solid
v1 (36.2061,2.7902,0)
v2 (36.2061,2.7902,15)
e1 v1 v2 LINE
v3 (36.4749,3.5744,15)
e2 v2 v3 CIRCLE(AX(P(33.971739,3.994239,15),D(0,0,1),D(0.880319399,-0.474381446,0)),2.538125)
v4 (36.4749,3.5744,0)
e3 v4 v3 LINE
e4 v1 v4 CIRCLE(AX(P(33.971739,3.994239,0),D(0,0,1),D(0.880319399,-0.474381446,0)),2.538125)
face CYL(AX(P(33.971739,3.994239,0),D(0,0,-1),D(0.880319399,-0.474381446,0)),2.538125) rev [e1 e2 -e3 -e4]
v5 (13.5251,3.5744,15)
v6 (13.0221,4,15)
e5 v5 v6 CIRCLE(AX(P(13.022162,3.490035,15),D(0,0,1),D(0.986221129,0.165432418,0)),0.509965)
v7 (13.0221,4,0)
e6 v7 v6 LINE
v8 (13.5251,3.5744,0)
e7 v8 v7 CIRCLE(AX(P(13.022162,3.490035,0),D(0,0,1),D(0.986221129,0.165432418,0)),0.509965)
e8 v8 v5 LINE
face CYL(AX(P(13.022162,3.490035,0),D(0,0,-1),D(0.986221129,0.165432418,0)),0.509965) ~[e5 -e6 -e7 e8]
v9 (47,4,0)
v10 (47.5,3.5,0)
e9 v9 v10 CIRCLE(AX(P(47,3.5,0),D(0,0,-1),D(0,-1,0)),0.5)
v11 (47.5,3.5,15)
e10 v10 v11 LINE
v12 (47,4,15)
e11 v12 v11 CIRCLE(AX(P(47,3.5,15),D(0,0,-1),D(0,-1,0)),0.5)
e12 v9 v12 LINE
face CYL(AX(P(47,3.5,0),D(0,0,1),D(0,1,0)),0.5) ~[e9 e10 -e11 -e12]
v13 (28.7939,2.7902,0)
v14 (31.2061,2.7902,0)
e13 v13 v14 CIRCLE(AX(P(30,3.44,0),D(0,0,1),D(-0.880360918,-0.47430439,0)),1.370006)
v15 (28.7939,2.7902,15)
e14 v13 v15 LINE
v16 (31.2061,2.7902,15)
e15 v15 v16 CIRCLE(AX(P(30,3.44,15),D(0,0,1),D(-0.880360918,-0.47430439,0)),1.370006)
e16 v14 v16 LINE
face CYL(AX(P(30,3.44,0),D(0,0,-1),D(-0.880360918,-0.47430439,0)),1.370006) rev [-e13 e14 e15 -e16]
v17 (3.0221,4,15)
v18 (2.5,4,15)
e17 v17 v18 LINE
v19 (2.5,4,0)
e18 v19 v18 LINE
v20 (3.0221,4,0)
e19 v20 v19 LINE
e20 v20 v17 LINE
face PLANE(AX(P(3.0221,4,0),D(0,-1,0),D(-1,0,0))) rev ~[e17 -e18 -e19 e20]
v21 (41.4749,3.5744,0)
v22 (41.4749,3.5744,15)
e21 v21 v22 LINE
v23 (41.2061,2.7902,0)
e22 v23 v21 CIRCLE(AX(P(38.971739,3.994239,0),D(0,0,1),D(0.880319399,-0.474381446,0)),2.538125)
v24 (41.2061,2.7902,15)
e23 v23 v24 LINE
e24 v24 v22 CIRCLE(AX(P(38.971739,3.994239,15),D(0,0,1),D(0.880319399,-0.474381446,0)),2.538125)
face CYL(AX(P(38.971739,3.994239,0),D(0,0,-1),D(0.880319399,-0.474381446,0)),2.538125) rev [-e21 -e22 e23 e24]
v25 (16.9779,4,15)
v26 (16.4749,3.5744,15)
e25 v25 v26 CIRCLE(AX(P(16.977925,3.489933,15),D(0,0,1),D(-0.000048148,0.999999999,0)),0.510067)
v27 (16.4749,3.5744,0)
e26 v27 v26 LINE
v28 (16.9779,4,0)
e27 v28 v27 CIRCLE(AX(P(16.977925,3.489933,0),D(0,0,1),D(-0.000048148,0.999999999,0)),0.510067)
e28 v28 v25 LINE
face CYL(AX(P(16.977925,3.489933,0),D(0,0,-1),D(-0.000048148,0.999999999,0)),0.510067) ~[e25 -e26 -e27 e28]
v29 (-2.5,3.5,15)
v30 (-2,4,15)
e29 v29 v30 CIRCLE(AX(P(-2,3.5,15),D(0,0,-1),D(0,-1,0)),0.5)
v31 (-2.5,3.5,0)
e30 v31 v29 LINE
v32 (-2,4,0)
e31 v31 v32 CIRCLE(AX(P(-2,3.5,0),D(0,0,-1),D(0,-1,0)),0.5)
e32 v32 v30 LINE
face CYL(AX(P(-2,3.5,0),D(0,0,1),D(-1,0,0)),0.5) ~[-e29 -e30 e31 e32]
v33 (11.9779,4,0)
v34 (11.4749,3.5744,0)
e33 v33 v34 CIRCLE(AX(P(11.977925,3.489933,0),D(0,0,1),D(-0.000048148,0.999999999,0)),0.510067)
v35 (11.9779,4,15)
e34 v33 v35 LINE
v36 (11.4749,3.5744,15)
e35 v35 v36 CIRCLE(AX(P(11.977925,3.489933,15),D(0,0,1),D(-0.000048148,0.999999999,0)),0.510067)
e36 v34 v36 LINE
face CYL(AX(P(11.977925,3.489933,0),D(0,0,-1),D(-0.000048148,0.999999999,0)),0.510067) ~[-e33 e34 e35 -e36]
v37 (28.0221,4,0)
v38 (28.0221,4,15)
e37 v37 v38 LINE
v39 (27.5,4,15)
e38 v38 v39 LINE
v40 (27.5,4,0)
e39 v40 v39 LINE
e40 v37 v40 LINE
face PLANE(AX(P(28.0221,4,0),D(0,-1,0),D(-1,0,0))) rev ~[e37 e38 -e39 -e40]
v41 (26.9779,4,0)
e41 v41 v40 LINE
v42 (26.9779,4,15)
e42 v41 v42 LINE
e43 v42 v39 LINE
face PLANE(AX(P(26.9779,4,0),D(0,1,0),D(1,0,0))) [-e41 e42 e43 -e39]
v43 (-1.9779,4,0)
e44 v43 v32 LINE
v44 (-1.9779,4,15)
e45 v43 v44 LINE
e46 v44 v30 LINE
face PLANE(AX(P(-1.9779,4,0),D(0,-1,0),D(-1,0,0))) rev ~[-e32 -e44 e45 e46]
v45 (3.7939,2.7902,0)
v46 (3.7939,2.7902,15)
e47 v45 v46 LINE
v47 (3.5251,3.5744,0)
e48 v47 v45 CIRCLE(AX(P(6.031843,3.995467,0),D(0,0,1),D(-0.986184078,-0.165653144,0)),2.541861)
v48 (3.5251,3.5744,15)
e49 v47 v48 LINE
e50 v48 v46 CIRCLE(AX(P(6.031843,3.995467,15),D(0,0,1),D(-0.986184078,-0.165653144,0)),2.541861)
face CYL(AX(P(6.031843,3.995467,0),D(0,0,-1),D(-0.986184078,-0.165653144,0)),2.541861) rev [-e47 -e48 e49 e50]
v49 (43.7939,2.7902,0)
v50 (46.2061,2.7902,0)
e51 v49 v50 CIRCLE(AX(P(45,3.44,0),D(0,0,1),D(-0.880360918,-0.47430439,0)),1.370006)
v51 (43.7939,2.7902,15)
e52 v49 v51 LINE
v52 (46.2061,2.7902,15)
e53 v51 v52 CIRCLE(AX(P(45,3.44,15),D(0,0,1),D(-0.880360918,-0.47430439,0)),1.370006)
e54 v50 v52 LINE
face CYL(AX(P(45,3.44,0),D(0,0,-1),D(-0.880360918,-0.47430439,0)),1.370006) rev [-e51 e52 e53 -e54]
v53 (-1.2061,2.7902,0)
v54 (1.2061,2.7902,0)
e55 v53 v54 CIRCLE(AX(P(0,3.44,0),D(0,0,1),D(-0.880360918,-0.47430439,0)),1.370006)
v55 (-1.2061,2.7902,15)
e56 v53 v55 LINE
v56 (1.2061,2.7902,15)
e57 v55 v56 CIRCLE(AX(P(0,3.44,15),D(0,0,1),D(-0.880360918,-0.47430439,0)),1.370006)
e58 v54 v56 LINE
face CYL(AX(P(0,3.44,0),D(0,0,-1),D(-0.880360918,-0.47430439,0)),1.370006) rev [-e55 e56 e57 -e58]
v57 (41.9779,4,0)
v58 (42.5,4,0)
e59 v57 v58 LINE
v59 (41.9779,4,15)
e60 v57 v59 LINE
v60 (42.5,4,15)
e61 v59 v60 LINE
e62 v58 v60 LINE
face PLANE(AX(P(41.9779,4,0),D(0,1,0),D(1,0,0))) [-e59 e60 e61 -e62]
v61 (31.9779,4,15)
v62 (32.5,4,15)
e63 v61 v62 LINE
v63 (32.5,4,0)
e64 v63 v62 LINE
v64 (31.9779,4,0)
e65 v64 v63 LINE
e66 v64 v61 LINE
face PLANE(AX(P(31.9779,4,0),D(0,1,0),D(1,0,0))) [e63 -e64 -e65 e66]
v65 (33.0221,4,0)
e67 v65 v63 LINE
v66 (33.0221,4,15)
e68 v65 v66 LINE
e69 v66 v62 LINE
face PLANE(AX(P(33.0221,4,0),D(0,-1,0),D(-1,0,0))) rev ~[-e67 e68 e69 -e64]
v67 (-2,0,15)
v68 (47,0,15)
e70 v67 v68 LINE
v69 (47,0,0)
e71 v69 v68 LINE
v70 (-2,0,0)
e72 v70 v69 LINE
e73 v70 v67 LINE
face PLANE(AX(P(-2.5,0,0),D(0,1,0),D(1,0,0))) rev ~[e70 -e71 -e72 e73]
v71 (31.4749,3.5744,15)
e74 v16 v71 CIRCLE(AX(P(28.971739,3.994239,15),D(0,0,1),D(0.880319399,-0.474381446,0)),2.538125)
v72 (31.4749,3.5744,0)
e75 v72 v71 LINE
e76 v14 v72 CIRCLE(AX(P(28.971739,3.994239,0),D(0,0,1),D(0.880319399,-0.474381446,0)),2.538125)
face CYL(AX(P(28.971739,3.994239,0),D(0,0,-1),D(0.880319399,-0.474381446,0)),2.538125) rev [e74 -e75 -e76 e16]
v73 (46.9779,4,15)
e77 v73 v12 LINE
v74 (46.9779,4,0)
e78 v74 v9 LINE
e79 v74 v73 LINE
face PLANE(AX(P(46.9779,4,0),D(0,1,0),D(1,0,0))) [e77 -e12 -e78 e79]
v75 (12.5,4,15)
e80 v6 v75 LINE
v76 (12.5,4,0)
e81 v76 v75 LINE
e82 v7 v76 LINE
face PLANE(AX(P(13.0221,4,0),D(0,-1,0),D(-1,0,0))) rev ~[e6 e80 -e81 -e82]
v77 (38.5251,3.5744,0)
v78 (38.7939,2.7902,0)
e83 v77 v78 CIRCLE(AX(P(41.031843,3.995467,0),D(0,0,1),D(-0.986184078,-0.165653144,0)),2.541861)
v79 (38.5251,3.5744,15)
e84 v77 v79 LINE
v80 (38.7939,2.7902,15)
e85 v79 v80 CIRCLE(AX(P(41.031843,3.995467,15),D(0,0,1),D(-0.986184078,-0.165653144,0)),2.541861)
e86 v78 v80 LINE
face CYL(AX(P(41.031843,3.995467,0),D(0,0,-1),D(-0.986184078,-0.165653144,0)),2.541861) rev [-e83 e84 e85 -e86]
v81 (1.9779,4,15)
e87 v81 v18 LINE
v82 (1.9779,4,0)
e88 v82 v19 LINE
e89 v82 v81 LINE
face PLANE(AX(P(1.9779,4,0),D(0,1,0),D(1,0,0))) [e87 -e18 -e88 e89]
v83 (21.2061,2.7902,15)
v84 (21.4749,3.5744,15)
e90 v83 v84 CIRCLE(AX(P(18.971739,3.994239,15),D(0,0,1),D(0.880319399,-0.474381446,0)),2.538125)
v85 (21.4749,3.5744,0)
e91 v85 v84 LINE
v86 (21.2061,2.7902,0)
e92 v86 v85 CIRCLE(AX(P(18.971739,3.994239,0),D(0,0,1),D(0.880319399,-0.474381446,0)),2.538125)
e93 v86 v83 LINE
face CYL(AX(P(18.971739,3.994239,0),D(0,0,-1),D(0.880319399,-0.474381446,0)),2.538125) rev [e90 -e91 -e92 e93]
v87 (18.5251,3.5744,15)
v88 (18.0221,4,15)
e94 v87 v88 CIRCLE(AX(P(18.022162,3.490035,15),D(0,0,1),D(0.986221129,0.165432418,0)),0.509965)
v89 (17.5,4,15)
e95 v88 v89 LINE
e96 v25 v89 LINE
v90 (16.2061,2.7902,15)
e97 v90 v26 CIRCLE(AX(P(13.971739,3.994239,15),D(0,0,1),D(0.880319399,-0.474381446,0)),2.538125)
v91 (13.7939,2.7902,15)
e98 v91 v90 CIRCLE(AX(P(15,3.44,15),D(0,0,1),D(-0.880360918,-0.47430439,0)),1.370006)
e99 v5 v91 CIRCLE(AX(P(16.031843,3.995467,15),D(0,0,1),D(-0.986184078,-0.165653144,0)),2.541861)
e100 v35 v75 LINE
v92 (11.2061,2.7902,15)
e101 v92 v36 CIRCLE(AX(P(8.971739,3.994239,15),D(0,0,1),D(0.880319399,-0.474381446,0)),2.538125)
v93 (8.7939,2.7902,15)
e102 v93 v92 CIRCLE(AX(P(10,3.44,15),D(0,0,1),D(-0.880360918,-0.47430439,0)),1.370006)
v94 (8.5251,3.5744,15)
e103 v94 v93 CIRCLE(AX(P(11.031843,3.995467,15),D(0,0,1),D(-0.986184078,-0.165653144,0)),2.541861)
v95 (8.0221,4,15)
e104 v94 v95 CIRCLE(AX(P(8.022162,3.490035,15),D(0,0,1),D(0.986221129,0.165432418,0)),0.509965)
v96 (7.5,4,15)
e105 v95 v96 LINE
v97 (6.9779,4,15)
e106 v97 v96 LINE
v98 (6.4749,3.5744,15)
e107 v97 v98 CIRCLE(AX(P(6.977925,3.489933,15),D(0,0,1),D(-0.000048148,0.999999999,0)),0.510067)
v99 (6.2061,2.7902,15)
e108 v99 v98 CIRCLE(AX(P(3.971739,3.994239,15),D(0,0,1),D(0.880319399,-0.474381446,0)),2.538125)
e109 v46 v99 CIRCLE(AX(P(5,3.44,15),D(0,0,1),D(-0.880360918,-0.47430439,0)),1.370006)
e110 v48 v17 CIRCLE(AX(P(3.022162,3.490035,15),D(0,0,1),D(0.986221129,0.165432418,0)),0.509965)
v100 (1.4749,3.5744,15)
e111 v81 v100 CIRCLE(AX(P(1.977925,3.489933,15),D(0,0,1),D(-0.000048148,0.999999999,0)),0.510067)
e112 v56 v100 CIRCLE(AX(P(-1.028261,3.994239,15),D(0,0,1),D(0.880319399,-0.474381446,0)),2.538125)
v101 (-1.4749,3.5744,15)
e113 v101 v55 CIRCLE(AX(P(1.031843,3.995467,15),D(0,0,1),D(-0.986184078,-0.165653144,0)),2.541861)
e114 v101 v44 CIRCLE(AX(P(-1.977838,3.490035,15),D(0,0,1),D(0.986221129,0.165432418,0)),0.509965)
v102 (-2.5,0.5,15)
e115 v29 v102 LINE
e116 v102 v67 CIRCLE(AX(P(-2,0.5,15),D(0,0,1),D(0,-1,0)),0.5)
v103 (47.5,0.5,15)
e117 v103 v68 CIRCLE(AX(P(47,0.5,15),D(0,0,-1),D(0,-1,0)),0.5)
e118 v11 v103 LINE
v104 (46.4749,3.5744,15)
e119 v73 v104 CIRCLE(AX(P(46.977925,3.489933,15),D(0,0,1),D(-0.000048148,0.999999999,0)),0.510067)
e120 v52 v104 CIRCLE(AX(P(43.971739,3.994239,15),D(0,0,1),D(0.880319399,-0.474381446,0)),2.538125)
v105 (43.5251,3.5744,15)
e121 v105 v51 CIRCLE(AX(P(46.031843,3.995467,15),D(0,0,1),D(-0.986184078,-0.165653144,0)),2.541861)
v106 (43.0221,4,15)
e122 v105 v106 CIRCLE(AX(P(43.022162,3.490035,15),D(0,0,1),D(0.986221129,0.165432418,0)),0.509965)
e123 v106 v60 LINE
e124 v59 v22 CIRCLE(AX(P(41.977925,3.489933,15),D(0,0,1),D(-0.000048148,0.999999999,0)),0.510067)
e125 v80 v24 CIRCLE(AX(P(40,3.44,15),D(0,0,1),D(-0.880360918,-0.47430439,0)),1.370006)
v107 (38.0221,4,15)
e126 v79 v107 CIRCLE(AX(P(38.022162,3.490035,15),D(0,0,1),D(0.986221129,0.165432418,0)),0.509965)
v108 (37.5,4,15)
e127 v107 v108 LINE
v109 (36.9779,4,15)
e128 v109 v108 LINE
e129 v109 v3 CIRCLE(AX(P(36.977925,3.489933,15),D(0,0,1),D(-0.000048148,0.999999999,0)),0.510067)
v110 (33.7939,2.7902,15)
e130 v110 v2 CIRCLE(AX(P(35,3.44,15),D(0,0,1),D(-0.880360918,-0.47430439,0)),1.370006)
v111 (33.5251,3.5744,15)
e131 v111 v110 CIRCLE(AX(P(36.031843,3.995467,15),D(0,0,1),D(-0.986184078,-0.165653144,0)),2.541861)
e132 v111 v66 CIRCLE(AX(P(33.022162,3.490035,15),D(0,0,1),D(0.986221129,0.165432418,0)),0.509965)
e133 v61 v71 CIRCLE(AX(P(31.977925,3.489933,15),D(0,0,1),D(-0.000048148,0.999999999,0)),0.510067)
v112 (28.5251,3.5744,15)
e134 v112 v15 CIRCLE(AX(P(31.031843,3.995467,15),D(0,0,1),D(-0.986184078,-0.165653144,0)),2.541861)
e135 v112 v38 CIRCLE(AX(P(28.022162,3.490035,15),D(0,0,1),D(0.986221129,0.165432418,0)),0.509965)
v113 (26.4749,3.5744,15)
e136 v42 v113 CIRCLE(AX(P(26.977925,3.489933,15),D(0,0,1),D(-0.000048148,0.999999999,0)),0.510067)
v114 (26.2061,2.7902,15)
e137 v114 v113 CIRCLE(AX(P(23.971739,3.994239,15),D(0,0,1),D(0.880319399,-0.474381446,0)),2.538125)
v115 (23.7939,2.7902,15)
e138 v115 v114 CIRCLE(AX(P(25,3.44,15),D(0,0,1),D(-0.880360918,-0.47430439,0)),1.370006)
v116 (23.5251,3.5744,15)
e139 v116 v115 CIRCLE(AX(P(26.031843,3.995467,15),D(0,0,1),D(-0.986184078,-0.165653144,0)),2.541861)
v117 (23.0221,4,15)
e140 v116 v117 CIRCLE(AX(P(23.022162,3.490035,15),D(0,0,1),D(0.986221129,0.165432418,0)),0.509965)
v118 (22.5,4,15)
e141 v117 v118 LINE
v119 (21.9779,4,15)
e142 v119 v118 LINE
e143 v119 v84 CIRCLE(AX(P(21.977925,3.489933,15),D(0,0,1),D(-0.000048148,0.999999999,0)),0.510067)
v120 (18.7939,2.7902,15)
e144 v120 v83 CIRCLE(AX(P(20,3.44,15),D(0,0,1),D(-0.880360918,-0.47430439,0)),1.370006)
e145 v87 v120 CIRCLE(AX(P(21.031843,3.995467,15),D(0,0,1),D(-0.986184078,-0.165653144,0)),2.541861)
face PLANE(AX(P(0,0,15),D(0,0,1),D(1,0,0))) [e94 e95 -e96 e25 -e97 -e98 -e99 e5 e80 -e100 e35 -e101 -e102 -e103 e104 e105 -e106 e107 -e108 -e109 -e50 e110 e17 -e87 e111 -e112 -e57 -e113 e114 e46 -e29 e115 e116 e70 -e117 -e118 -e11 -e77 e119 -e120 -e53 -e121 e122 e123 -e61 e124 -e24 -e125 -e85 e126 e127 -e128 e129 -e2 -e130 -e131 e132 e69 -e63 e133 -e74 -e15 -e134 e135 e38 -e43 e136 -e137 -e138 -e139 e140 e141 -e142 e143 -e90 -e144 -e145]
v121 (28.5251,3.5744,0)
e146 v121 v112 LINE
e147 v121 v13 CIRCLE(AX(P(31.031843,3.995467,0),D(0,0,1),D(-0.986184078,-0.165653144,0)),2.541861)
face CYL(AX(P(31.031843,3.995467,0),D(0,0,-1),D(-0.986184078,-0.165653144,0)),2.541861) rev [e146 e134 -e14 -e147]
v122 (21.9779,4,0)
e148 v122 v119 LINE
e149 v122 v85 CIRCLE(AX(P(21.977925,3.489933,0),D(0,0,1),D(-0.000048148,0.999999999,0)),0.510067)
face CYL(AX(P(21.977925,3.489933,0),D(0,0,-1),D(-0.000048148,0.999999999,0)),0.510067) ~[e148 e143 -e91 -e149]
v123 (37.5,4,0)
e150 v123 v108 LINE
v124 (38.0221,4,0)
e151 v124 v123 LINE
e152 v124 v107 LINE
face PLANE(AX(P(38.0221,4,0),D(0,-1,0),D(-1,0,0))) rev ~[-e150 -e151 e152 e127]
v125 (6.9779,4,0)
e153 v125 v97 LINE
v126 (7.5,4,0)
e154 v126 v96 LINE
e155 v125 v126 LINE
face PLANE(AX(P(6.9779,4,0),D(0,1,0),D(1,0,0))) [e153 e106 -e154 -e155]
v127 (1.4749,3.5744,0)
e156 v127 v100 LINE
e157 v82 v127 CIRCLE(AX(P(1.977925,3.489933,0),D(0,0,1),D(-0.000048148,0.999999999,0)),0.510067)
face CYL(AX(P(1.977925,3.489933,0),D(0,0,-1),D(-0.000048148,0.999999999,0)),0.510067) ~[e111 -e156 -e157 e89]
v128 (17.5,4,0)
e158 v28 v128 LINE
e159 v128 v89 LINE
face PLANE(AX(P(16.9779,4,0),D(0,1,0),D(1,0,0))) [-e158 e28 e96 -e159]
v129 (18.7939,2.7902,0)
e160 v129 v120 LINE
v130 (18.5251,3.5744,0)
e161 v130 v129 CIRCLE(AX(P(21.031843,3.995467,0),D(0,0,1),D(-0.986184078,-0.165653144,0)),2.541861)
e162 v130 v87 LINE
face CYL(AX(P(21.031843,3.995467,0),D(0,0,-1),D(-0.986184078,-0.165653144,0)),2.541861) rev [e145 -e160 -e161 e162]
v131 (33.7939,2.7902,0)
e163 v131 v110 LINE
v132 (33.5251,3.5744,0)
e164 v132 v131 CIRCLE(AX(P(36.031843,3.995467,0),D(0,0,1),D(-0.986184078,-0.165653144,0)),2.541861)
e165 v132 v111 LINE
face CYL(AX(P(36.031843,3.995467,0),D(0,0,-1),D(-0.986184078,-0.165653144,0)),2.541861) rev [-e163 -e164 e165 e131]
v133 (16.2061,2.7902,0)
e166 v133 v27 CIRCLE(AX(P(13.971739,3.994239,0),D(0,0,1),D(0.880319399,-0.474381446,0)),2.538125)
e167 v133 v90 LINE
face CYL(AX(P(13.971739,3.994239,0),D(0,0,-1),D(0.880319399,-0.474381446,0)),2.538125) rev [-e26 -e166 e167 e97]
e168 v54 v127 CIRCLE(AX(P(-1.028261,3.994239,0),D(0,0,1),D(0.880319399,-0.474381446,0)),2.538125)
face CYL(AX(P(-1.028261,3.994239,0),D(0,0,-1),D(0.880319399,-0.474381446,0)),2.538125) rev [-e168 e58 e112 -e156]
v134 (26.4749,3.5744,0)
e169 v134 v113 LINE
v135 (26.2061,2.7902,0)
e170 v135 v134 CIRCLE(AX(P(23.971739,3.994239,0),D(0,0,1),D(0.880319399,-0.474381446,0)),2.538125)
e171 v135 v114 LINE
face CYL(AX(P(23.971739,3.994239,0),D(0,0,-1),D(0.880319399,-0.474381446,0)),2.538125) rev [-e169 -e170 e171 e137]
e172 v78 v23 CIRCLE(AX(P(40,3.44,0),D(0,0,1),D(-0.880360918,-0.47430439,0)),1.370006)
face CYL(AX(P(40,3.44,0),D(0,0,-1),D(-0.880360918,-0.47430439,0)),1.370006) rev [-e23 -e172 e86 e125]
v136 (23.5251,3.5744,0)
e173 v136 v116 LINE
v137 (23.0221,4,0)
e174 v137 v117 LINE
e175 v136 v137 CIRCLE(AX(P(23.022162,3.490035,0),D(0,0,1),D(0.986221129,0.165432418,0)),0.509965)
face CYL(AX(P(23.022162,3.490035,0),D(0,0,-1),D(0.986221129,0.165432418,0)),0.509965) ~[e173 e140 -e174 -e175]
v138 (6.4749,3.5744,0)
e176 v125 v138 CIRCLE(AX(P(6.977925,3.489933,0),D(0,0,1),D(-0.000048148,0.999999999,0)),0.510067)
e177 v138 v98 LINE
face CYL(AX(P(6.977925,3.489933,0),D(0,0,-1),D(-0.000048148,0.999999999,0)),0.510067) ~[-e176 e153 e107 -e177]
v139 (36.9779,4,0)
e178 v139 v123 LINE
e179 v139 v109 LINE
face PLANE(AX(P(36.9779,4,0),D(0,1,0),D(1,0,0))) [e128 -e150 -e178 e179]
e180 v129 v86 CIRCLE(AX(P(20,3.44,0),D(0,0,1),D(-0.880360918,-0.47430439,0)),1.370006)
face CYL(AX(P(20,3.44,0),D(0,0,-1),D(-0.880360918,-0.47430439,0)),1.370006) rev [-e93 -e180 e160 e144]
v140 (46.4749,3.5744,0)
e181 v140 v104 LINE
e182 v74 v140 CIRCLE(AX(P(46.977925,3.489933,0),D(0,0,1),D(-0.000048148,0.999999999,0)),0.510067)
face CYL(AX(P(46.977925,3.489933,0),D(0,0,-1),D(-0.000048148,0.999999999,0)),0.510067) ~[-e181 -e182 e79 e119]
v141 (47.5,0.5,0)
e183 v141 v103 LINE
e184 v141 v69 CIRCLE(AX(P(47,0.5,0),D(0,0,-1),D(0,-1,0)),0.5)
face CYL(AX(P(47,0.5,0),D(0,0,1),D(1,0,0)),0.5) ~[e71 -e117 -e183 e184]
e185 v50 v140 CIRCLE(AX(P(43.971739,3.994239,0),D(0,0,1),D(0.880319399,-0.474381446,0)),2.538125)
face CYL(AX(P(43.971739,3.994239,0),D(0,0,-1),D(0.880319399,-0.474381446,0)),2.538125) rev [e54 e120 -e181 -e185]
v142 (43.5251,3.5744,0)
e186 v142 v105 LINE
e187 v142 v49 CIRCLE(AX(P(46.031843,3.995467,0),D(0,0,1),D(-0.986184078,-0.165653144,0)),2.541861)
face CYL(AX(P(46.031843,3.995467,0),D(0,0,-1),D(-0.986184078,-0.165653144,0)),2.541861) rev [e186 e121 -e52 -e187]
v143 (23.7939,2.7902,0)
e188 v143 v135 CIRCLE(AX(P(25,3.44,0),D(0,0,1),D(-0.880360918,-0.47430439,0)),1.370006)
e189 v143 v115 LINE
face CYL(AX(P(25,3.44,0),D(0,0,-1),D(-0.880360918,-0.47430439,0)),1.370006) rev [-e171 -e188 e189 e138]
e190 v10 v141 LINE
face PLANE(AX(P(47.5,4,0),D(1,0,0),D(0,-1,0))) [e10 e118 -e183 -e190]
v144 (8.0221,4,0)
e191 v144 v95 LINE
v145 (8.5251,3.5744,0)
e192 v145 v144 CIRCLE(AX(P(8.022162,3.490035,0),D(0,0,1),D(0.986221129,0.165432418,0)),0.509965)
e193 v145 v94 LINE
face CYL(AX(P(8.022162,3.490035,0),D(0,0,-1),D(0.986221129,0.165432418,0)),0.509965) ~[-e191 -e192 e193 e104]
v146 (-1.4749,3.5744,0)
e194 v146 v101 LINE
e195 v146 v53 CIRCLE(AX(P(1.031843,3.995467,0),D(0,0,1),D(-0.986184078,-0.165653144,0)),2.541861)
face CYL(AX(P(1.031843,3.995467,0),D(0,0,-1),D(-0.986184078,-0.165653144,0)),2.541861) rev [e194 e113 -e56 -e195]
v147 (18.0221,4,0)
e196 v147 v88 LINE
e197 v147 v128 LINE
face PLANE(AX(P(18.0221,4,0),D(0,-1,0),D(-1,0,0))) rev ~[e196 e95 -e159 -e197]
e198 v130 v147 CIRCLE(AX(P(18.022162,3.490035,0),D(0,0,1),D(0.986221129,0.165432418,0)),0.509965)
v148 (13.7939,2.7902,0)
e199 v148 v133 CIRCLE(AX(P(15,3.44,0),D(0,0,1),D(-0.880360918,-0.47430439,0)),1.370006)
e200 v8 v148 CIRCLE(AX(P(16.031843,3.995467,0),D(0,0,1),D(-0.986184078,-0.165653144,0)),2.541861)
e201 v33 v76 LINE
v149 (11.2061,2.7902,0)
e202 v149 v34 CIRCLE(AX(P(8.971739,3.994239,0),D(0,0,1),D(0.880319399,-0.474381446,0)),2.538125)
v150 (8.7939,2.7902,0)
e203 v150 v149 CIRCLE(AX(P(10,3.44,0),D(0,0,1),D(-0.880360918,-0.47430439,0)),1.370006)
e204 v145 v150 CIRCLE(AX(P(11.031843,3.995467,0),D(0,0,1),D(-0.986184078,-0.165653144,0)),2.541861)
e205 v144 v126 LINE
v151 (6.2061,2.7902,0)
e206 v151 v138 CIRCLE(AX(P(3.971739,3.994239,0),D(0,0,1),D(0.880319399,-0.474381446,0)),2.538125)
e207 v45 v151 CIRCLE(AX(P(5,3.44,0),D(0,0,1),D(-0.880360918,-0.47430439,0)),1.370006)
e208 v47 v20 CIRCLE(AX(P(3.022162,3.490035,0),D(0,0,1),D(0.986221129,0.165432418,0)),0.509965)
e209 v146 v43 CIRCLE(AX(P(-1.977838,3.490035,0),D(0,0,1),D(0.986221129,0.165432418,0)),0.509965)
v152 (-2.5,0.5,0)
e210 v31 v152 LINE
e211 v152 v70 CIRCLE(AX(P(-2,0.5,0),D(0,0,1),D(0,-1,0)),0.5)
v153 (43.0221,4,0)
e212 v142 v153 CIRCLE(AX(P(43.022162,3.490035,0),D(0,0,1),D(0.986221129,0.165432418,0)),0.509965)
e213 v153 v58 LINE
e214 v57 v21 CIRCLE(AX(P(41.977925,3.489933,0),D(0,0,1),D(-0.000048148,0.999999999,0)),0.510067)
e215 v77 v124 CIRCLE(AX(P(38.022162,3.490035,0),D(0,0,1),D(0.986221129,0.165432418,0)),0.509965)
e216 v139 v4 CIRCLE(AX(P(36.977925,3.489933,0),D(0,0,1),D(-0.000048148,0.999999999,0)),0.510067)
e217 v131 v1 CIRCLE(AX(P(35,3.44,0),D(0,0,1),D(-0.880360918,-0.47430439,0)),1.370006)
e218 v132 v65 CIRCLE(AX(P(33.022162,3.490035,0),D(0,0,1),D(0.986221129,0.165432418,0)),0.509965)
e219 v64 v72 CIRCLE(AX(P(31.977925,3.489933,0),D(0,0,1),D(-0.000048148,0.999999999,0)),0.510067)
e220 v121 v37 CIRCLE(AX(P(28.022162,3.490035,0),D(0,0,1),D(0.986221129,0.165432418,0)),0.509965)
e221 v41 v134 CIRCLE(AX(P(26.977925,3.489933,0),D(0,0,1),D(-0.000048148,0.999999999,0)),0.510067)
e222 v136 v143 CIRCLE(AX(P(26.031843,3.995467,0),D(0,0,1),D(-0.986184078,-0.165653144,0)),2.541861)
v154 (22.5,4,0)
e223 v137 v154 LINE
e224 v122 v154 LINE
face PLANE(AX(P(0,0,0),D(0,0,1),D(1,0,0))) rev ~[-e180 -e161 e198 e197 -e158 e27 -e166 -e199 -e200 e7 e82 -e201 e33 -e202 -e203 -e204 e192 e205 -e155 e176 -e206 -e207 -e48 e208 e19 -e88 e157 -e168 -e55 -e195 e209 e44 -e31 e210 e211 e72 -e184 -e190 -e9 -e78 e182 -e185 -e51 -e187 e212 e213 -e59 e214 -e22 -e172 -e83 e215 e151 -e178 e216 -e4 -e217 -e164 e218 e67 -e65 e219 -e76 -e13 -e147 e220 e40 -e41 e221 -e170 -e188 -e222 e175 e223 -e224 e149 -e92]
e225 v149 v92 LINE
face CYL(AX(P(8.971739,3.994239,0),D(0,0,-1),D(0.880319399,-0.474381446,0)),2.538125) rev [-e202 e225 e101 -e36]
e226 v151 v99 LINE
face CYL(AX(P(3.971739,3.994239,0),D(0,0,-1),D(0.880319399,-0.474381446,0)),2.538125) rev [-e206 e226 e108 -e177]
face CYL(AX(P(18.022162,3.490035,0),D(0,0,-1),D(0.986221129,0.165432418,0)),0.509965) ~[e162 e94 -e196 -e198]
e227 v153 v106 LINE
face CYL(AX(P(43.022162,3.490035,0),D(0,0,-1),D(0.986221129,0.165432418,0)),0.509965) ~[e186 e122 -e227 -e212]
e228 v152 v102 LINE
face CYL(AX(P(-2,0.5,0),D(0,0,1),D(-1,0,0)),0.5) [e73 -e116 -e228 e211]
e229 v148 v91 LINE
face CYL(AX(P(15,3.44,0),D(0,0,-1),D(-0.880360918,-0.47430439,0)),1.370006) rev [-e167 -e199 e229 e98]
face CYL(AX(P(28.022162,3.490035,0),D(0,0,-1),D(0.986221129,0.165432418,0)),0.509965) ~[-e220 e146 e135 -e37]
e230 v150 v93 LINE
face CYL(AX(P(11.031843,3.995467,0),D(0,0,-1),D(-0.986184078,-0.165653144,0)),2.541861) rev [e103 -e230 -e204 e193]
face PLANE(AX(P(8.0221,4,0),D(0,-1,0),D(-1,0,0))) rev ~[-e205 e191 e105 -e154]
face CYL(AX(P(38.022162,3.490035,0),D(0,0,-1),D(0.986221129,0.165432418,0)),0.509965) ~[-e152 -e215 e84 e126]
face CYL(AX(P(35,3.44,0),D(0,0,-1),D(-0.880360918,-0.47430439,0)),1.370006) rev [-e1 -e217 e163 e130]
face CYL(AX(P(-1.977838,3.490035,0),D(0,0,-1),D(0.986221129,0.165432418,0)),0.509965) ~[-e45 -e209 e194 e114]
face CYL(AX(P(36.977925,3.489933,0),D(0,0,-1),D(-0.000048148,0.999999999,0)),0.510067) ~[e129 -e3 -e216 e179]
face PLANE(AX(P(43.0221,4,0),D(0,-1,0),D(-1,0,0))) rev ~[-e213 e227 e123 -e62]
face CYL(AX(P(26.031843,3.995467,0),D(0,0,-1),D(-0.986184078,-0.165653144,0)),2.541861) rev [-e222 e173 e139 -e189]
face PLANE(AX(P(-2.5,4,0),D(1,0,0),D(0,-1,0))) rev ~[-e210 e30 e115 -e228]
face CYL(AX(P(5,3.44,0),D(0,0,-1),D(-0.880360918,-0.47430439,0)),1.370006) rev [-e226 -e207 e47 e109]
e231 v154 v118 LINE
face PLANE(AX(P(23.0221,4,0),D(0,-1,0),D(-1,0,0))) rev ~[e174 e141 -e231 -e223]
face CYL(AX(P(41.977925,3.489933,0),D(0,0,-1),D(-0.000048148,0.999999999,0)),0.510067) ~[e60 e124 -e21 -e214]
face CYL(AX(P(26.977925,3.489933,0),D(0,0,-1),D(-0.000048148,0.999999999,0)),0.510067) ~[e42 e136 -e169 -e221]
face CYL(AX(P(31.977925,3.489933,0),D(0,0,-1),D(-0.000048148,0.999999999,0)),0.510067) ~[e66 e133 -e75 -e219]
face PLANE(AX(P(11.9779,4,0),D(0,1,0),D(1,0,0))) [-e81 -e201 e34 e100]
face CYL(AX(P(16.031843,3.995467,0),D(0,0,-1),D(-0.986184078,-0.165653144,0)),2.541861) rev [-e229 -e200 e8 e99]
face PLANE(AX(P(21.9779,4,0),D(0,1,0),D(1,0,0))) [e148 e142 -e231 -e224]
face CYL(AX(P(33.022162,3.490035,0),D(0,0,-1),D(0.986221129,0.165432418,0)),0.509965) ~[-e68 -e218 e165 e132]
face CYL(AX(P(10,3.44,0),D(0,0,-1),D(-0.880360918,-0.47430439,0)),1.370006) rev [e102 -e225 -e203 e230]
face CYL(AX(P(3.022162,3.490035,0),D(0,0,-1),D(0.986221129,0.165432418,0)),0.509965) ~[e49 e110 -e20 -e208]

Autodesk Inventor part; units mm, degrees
ref_plane "YZ Plane" through (0, 0, 0) normal (1, 0, 0) x (0, 1, 0)
ref_plane "XZ Plane" through (0, 0, 0) normal (0, 1, 0) x (-1, 0, 0)
ref_plane "XY Plane" through (0, 0, 0) normal (0, 0, 1) x (1, 0, 0)
sketch "スケッチ1" plane through (0, 0, 0) normal (0, 0, 1) x (1, 0, 0)
  line L0 (-2.5, 0) -> (47.5, 0)
  arc A0 (-1.2061, 2.7902) -> (1.2061, 2.7902) centre (0, 3.44) ccw
  arc A1 (-1.4749, 3.5744) -> (-1.2061, 2.7902) centre (1.03, 3.995) ccw
  arc A2 (1.2061, 2.7902) -> (1.4749, 3.5744) centre (-1.03, 3.995) ccw
  arc A3 (-1.4749, 3.5744) -> (-1.9779, 4) centre (-1.9779, 3.49) ccw
  arc A4 (1.9779, 4) -> (1.4749, 3.5744) centre (1.9779, 3.49) ccw
  line L1 (1.9779, 4) -> (2.5, 4)
  line L2 (-1.9779, 4) -> (-2.5, 4)
  line L3 (6.9779, 4) -> (7.5, 4)
  arc A5 (6.9779, 4) -> (6.4749, 3.5744) centre (6.9779, 3.49) ccw
  arc A6 (6.2061, 2.7902) -> (6.4749, 3.5744) centre (3.97, 3.995) ccw
  arc A7 (3.7939, 2.7902) -> (6.2061, 2.7902) centre (5, 3.44) ccw
  arc A8 (3.5251, 3.5744) -> (3.7939, 2.7902) centre (6.03, 3.995) ccw
  arc A9 (3.5251, 3.5744) -> (3.0221, 4) centre (3.0221, 3.49) ccw
  line L4 (3.0221, 4) -> (2.5, 4)
  line L5 (11.9779, 4) -> (12.5, 4)
  arc A10 (11.9779, 4) -> (11.4749, 3.5744) centre (11.9779, 3.49) ccw
  arc A11 (11.2061, 2.7902) -> (11.4749, 3.5744) centre (8.97, 3.995) ccw
  arc A12 (8.7939, 2.7902) -> (11.2061, 2.7902) centre (10, 3.44) ccw
  arc A13 (8.5251, 3.5744) -> (8.7939, 2.7902) centre (11.03, 3.995) ccw
  arc A14 (8.5251, 3.5744) -> (8.0221, 4) centre (8.0221, 3.49) ccw
  line L6 (8.0221, 4) -> (7.5, 4)
  line L7 (16.9779, 4) -> (17.5, 4)
  arc A15 (16.9779, 4) -> (16.4749, 3.5744) centre (16.9779, 3.49) ccw
  arc A16 (16.2061, 2.7902) -> (16.4749, 3.5744) centre (13.97, 3.995) ccw
  arc A17 (13.7939, 2.7902) -> (16.2061, 2.7902) centre (15, 3.44) ccw
  arc A18 (13.5251, 3.5744) -> (13.7939, 2.7902) centre (16.03, 3.995) ccw
  arc A19 (13.5251, 3.5744) -> (13.0221, 4) centre (13.0221, 3.49) ccw
  line L8 (13.0221, 4) -> (12.5, 4)
  line L9 (21.9779, 4) -> (22.5, 4)
  arc A20 (21.9779, 4) -> (21.4749, 3.5744) centre (21.9779, 3.49) ccw
  arc A21 (21.2061, 2.7902) -> (21.4749, 3.5744) centre (18.97, 3.995) ccw
  arc A22 (18.7939, 2.7902) -> (21.2061, 2.7902) centre (20, 3.44) ccw
  arc A23 (18.5251, 3.5744) -> (18.7939, 2.7902) centre (21.03, 3.995) ccw
  arc A24 (18.5251, 3.5744) -> (18.0221, 4) centre (18.0221, 3.49) ccw
  line L10 (18.0221, 4) -> (17.5, 4)
  line L11 (26.9779, 4) -> (27.5, 4)
  arc A25 (26.9779, 4) -> (26.4749, 3.5744) centre (26.9779, 3.49) ccw
  arc A26 (26.2061, 2.7902) -> (26.4749, 3.5744) centre (23.97, 3.995) ccw
  arc A27 (23.7939, 2.7902) -> (26.2061, 2.7902) centre (25, 3.44) ccw
  arc A28 (23.5251, 3.5744) -> (23.7939, 2.7902) centre (26.03, 3.995) ccw
  arc A29 (23.5251, 3.5744) -> (23.0221, 4) centre (23.0221, 3.49) ccw
  line L12 (23.0221, 4) -> (22.5, 4)
  line L13 (31.9779, 4) -> (32.5, 4)
  arc A30 (31.9779, 4) -> (31.4749, 3.5744) centre (31.9779, 3.49) ccw
  arc A31 (31.2061, 2.7902) -> (31.4749, 3.5744) centre (28.97, 3.995) ccw
  arc A32 (28.7939, 2.7902) -> (31.2061, 2.7902) centre (30, 3.44) ccw
  arc A33 (28.5251, 3.5744) -> (28.7939, 2.7902) centre (31.03, 3.995) ccw
  arc A34 (28.5251, 3.5744) -> (28.0221, 4) centre (28.0221, 3.49) ccw
  line L14 (28.0221, 4) -> (27.5, 4)
  line L15 (36.9779, 4) -> (37.5, 4)
  arc A35 (36.9779, 4) -> (36.4749, 3.5744) centre (36.9779, 3.49) ccw
  arc A36 (36.2061, 2.7902) -> (36.4749, 3.5744) centre (33.97, 3.995) ccw
  arc A37 (33.7939, 2.7902) -> (36.2061, 2.7902) centre (35, 3.44) ccw
  arc A38 (33.5251, 3.5744) -> (33.7939, 2.7902) centre (36.03, 3.995) ccw
  arc A39 (33.5251, 3.5744) -> (33.0221, 4) centre (33.0221, 3.49) ccw
  line L16 (33.0221, 4) -> (32.5, 4)
  line L17 (41.9779, 4) -> (42.5, 4)
  arc A40 (41.9779, 4) -> (41.4749, 3.5744) centre (41.9779, 3.49) ccw
  arc A41 (41.2061, 2.7902) -> (41.4749, 3.5744) centre (38.97, 3.995) ccw
  arc A42 (38.7939, 2.7902) -> (41.2061, 2.7902) centre (40, 3.44) ccw
  arc A43 (38.5251, 3.5744) -> (38.7939, 2.7902) centre (41.03, 3.995) ccw
  arc A44 (38.5251, 3.5744) -> (38.0221, 4) centre (38.0221, 3.49) ccw
  line L18 (38.0221, 4) -> (37.5, 4)
  line L19 (46.9779, 4) -> (47.5, 4)
  arc A45 (46.9779, 4) -> (46.4749, 3.5744) centre (46.9779, 3.49) ccw
  arc A46 (46.2061, 2.7902) -> (46.4749, 3.5744) centre (43.97, 3.995) ccw
  arc A47 (43.7939, 2.7902) -> (46.2061, 2.7902) centre (45, 3.44) ccw
  arc A48 (43.5251, 3.5744) -> (43.7939, 2.7902) centre (46.03, 3.995) ccw
  arc A49 (43.5251, 3.5744) -> (43.0221, 4) centre (43.0221, 3.49) ccw
  line L20 (43.0221, 4) -> (42.5, 4)
  line L21 (-2.5, 4) -> (-2.5, 0)
  line L22 (47.5, 4) -> (47.5, 0)
  point P0 (0, 0)
  point P1 (0, 2.07)
  point P2 (5, 2.07)
  point P3 (10, 2.07)
  point P4 (15, 2.07)
  point P5 (20, 2.07)
  point P6 (25, 2.07)
  point P7 (30, 2.07)
  point P8 (35, 2.07)
  point P9 (40, 2.07)
  point P10 (45, 2.07)
  dimension "d0" = 1.37
  dimension "d1" = 2.54
  dimension "d2" = 2.54
  dimension "d3" = 1.03
  dimension "d4" = 1.03
  dimension "d5" = 0.51
  dimension "d6" = 0.51
  dimension "d7" = 1.93
  dimension "d9" = 5
  dimension "d10" = 2.5
  dimension "d11" = 4
  dimension "d14" = 5
extrude "押し出し1" add sketch "スケッチ1" along normal blind 15
fillet "フィレット1" radius 0.5 4 edges at (47.5, 0, 7.5) (-2.5, 0, 7.5) (-2.5, 4, 7.5) (47.5, 4, 7.5)
properties part number "belttunagi"
